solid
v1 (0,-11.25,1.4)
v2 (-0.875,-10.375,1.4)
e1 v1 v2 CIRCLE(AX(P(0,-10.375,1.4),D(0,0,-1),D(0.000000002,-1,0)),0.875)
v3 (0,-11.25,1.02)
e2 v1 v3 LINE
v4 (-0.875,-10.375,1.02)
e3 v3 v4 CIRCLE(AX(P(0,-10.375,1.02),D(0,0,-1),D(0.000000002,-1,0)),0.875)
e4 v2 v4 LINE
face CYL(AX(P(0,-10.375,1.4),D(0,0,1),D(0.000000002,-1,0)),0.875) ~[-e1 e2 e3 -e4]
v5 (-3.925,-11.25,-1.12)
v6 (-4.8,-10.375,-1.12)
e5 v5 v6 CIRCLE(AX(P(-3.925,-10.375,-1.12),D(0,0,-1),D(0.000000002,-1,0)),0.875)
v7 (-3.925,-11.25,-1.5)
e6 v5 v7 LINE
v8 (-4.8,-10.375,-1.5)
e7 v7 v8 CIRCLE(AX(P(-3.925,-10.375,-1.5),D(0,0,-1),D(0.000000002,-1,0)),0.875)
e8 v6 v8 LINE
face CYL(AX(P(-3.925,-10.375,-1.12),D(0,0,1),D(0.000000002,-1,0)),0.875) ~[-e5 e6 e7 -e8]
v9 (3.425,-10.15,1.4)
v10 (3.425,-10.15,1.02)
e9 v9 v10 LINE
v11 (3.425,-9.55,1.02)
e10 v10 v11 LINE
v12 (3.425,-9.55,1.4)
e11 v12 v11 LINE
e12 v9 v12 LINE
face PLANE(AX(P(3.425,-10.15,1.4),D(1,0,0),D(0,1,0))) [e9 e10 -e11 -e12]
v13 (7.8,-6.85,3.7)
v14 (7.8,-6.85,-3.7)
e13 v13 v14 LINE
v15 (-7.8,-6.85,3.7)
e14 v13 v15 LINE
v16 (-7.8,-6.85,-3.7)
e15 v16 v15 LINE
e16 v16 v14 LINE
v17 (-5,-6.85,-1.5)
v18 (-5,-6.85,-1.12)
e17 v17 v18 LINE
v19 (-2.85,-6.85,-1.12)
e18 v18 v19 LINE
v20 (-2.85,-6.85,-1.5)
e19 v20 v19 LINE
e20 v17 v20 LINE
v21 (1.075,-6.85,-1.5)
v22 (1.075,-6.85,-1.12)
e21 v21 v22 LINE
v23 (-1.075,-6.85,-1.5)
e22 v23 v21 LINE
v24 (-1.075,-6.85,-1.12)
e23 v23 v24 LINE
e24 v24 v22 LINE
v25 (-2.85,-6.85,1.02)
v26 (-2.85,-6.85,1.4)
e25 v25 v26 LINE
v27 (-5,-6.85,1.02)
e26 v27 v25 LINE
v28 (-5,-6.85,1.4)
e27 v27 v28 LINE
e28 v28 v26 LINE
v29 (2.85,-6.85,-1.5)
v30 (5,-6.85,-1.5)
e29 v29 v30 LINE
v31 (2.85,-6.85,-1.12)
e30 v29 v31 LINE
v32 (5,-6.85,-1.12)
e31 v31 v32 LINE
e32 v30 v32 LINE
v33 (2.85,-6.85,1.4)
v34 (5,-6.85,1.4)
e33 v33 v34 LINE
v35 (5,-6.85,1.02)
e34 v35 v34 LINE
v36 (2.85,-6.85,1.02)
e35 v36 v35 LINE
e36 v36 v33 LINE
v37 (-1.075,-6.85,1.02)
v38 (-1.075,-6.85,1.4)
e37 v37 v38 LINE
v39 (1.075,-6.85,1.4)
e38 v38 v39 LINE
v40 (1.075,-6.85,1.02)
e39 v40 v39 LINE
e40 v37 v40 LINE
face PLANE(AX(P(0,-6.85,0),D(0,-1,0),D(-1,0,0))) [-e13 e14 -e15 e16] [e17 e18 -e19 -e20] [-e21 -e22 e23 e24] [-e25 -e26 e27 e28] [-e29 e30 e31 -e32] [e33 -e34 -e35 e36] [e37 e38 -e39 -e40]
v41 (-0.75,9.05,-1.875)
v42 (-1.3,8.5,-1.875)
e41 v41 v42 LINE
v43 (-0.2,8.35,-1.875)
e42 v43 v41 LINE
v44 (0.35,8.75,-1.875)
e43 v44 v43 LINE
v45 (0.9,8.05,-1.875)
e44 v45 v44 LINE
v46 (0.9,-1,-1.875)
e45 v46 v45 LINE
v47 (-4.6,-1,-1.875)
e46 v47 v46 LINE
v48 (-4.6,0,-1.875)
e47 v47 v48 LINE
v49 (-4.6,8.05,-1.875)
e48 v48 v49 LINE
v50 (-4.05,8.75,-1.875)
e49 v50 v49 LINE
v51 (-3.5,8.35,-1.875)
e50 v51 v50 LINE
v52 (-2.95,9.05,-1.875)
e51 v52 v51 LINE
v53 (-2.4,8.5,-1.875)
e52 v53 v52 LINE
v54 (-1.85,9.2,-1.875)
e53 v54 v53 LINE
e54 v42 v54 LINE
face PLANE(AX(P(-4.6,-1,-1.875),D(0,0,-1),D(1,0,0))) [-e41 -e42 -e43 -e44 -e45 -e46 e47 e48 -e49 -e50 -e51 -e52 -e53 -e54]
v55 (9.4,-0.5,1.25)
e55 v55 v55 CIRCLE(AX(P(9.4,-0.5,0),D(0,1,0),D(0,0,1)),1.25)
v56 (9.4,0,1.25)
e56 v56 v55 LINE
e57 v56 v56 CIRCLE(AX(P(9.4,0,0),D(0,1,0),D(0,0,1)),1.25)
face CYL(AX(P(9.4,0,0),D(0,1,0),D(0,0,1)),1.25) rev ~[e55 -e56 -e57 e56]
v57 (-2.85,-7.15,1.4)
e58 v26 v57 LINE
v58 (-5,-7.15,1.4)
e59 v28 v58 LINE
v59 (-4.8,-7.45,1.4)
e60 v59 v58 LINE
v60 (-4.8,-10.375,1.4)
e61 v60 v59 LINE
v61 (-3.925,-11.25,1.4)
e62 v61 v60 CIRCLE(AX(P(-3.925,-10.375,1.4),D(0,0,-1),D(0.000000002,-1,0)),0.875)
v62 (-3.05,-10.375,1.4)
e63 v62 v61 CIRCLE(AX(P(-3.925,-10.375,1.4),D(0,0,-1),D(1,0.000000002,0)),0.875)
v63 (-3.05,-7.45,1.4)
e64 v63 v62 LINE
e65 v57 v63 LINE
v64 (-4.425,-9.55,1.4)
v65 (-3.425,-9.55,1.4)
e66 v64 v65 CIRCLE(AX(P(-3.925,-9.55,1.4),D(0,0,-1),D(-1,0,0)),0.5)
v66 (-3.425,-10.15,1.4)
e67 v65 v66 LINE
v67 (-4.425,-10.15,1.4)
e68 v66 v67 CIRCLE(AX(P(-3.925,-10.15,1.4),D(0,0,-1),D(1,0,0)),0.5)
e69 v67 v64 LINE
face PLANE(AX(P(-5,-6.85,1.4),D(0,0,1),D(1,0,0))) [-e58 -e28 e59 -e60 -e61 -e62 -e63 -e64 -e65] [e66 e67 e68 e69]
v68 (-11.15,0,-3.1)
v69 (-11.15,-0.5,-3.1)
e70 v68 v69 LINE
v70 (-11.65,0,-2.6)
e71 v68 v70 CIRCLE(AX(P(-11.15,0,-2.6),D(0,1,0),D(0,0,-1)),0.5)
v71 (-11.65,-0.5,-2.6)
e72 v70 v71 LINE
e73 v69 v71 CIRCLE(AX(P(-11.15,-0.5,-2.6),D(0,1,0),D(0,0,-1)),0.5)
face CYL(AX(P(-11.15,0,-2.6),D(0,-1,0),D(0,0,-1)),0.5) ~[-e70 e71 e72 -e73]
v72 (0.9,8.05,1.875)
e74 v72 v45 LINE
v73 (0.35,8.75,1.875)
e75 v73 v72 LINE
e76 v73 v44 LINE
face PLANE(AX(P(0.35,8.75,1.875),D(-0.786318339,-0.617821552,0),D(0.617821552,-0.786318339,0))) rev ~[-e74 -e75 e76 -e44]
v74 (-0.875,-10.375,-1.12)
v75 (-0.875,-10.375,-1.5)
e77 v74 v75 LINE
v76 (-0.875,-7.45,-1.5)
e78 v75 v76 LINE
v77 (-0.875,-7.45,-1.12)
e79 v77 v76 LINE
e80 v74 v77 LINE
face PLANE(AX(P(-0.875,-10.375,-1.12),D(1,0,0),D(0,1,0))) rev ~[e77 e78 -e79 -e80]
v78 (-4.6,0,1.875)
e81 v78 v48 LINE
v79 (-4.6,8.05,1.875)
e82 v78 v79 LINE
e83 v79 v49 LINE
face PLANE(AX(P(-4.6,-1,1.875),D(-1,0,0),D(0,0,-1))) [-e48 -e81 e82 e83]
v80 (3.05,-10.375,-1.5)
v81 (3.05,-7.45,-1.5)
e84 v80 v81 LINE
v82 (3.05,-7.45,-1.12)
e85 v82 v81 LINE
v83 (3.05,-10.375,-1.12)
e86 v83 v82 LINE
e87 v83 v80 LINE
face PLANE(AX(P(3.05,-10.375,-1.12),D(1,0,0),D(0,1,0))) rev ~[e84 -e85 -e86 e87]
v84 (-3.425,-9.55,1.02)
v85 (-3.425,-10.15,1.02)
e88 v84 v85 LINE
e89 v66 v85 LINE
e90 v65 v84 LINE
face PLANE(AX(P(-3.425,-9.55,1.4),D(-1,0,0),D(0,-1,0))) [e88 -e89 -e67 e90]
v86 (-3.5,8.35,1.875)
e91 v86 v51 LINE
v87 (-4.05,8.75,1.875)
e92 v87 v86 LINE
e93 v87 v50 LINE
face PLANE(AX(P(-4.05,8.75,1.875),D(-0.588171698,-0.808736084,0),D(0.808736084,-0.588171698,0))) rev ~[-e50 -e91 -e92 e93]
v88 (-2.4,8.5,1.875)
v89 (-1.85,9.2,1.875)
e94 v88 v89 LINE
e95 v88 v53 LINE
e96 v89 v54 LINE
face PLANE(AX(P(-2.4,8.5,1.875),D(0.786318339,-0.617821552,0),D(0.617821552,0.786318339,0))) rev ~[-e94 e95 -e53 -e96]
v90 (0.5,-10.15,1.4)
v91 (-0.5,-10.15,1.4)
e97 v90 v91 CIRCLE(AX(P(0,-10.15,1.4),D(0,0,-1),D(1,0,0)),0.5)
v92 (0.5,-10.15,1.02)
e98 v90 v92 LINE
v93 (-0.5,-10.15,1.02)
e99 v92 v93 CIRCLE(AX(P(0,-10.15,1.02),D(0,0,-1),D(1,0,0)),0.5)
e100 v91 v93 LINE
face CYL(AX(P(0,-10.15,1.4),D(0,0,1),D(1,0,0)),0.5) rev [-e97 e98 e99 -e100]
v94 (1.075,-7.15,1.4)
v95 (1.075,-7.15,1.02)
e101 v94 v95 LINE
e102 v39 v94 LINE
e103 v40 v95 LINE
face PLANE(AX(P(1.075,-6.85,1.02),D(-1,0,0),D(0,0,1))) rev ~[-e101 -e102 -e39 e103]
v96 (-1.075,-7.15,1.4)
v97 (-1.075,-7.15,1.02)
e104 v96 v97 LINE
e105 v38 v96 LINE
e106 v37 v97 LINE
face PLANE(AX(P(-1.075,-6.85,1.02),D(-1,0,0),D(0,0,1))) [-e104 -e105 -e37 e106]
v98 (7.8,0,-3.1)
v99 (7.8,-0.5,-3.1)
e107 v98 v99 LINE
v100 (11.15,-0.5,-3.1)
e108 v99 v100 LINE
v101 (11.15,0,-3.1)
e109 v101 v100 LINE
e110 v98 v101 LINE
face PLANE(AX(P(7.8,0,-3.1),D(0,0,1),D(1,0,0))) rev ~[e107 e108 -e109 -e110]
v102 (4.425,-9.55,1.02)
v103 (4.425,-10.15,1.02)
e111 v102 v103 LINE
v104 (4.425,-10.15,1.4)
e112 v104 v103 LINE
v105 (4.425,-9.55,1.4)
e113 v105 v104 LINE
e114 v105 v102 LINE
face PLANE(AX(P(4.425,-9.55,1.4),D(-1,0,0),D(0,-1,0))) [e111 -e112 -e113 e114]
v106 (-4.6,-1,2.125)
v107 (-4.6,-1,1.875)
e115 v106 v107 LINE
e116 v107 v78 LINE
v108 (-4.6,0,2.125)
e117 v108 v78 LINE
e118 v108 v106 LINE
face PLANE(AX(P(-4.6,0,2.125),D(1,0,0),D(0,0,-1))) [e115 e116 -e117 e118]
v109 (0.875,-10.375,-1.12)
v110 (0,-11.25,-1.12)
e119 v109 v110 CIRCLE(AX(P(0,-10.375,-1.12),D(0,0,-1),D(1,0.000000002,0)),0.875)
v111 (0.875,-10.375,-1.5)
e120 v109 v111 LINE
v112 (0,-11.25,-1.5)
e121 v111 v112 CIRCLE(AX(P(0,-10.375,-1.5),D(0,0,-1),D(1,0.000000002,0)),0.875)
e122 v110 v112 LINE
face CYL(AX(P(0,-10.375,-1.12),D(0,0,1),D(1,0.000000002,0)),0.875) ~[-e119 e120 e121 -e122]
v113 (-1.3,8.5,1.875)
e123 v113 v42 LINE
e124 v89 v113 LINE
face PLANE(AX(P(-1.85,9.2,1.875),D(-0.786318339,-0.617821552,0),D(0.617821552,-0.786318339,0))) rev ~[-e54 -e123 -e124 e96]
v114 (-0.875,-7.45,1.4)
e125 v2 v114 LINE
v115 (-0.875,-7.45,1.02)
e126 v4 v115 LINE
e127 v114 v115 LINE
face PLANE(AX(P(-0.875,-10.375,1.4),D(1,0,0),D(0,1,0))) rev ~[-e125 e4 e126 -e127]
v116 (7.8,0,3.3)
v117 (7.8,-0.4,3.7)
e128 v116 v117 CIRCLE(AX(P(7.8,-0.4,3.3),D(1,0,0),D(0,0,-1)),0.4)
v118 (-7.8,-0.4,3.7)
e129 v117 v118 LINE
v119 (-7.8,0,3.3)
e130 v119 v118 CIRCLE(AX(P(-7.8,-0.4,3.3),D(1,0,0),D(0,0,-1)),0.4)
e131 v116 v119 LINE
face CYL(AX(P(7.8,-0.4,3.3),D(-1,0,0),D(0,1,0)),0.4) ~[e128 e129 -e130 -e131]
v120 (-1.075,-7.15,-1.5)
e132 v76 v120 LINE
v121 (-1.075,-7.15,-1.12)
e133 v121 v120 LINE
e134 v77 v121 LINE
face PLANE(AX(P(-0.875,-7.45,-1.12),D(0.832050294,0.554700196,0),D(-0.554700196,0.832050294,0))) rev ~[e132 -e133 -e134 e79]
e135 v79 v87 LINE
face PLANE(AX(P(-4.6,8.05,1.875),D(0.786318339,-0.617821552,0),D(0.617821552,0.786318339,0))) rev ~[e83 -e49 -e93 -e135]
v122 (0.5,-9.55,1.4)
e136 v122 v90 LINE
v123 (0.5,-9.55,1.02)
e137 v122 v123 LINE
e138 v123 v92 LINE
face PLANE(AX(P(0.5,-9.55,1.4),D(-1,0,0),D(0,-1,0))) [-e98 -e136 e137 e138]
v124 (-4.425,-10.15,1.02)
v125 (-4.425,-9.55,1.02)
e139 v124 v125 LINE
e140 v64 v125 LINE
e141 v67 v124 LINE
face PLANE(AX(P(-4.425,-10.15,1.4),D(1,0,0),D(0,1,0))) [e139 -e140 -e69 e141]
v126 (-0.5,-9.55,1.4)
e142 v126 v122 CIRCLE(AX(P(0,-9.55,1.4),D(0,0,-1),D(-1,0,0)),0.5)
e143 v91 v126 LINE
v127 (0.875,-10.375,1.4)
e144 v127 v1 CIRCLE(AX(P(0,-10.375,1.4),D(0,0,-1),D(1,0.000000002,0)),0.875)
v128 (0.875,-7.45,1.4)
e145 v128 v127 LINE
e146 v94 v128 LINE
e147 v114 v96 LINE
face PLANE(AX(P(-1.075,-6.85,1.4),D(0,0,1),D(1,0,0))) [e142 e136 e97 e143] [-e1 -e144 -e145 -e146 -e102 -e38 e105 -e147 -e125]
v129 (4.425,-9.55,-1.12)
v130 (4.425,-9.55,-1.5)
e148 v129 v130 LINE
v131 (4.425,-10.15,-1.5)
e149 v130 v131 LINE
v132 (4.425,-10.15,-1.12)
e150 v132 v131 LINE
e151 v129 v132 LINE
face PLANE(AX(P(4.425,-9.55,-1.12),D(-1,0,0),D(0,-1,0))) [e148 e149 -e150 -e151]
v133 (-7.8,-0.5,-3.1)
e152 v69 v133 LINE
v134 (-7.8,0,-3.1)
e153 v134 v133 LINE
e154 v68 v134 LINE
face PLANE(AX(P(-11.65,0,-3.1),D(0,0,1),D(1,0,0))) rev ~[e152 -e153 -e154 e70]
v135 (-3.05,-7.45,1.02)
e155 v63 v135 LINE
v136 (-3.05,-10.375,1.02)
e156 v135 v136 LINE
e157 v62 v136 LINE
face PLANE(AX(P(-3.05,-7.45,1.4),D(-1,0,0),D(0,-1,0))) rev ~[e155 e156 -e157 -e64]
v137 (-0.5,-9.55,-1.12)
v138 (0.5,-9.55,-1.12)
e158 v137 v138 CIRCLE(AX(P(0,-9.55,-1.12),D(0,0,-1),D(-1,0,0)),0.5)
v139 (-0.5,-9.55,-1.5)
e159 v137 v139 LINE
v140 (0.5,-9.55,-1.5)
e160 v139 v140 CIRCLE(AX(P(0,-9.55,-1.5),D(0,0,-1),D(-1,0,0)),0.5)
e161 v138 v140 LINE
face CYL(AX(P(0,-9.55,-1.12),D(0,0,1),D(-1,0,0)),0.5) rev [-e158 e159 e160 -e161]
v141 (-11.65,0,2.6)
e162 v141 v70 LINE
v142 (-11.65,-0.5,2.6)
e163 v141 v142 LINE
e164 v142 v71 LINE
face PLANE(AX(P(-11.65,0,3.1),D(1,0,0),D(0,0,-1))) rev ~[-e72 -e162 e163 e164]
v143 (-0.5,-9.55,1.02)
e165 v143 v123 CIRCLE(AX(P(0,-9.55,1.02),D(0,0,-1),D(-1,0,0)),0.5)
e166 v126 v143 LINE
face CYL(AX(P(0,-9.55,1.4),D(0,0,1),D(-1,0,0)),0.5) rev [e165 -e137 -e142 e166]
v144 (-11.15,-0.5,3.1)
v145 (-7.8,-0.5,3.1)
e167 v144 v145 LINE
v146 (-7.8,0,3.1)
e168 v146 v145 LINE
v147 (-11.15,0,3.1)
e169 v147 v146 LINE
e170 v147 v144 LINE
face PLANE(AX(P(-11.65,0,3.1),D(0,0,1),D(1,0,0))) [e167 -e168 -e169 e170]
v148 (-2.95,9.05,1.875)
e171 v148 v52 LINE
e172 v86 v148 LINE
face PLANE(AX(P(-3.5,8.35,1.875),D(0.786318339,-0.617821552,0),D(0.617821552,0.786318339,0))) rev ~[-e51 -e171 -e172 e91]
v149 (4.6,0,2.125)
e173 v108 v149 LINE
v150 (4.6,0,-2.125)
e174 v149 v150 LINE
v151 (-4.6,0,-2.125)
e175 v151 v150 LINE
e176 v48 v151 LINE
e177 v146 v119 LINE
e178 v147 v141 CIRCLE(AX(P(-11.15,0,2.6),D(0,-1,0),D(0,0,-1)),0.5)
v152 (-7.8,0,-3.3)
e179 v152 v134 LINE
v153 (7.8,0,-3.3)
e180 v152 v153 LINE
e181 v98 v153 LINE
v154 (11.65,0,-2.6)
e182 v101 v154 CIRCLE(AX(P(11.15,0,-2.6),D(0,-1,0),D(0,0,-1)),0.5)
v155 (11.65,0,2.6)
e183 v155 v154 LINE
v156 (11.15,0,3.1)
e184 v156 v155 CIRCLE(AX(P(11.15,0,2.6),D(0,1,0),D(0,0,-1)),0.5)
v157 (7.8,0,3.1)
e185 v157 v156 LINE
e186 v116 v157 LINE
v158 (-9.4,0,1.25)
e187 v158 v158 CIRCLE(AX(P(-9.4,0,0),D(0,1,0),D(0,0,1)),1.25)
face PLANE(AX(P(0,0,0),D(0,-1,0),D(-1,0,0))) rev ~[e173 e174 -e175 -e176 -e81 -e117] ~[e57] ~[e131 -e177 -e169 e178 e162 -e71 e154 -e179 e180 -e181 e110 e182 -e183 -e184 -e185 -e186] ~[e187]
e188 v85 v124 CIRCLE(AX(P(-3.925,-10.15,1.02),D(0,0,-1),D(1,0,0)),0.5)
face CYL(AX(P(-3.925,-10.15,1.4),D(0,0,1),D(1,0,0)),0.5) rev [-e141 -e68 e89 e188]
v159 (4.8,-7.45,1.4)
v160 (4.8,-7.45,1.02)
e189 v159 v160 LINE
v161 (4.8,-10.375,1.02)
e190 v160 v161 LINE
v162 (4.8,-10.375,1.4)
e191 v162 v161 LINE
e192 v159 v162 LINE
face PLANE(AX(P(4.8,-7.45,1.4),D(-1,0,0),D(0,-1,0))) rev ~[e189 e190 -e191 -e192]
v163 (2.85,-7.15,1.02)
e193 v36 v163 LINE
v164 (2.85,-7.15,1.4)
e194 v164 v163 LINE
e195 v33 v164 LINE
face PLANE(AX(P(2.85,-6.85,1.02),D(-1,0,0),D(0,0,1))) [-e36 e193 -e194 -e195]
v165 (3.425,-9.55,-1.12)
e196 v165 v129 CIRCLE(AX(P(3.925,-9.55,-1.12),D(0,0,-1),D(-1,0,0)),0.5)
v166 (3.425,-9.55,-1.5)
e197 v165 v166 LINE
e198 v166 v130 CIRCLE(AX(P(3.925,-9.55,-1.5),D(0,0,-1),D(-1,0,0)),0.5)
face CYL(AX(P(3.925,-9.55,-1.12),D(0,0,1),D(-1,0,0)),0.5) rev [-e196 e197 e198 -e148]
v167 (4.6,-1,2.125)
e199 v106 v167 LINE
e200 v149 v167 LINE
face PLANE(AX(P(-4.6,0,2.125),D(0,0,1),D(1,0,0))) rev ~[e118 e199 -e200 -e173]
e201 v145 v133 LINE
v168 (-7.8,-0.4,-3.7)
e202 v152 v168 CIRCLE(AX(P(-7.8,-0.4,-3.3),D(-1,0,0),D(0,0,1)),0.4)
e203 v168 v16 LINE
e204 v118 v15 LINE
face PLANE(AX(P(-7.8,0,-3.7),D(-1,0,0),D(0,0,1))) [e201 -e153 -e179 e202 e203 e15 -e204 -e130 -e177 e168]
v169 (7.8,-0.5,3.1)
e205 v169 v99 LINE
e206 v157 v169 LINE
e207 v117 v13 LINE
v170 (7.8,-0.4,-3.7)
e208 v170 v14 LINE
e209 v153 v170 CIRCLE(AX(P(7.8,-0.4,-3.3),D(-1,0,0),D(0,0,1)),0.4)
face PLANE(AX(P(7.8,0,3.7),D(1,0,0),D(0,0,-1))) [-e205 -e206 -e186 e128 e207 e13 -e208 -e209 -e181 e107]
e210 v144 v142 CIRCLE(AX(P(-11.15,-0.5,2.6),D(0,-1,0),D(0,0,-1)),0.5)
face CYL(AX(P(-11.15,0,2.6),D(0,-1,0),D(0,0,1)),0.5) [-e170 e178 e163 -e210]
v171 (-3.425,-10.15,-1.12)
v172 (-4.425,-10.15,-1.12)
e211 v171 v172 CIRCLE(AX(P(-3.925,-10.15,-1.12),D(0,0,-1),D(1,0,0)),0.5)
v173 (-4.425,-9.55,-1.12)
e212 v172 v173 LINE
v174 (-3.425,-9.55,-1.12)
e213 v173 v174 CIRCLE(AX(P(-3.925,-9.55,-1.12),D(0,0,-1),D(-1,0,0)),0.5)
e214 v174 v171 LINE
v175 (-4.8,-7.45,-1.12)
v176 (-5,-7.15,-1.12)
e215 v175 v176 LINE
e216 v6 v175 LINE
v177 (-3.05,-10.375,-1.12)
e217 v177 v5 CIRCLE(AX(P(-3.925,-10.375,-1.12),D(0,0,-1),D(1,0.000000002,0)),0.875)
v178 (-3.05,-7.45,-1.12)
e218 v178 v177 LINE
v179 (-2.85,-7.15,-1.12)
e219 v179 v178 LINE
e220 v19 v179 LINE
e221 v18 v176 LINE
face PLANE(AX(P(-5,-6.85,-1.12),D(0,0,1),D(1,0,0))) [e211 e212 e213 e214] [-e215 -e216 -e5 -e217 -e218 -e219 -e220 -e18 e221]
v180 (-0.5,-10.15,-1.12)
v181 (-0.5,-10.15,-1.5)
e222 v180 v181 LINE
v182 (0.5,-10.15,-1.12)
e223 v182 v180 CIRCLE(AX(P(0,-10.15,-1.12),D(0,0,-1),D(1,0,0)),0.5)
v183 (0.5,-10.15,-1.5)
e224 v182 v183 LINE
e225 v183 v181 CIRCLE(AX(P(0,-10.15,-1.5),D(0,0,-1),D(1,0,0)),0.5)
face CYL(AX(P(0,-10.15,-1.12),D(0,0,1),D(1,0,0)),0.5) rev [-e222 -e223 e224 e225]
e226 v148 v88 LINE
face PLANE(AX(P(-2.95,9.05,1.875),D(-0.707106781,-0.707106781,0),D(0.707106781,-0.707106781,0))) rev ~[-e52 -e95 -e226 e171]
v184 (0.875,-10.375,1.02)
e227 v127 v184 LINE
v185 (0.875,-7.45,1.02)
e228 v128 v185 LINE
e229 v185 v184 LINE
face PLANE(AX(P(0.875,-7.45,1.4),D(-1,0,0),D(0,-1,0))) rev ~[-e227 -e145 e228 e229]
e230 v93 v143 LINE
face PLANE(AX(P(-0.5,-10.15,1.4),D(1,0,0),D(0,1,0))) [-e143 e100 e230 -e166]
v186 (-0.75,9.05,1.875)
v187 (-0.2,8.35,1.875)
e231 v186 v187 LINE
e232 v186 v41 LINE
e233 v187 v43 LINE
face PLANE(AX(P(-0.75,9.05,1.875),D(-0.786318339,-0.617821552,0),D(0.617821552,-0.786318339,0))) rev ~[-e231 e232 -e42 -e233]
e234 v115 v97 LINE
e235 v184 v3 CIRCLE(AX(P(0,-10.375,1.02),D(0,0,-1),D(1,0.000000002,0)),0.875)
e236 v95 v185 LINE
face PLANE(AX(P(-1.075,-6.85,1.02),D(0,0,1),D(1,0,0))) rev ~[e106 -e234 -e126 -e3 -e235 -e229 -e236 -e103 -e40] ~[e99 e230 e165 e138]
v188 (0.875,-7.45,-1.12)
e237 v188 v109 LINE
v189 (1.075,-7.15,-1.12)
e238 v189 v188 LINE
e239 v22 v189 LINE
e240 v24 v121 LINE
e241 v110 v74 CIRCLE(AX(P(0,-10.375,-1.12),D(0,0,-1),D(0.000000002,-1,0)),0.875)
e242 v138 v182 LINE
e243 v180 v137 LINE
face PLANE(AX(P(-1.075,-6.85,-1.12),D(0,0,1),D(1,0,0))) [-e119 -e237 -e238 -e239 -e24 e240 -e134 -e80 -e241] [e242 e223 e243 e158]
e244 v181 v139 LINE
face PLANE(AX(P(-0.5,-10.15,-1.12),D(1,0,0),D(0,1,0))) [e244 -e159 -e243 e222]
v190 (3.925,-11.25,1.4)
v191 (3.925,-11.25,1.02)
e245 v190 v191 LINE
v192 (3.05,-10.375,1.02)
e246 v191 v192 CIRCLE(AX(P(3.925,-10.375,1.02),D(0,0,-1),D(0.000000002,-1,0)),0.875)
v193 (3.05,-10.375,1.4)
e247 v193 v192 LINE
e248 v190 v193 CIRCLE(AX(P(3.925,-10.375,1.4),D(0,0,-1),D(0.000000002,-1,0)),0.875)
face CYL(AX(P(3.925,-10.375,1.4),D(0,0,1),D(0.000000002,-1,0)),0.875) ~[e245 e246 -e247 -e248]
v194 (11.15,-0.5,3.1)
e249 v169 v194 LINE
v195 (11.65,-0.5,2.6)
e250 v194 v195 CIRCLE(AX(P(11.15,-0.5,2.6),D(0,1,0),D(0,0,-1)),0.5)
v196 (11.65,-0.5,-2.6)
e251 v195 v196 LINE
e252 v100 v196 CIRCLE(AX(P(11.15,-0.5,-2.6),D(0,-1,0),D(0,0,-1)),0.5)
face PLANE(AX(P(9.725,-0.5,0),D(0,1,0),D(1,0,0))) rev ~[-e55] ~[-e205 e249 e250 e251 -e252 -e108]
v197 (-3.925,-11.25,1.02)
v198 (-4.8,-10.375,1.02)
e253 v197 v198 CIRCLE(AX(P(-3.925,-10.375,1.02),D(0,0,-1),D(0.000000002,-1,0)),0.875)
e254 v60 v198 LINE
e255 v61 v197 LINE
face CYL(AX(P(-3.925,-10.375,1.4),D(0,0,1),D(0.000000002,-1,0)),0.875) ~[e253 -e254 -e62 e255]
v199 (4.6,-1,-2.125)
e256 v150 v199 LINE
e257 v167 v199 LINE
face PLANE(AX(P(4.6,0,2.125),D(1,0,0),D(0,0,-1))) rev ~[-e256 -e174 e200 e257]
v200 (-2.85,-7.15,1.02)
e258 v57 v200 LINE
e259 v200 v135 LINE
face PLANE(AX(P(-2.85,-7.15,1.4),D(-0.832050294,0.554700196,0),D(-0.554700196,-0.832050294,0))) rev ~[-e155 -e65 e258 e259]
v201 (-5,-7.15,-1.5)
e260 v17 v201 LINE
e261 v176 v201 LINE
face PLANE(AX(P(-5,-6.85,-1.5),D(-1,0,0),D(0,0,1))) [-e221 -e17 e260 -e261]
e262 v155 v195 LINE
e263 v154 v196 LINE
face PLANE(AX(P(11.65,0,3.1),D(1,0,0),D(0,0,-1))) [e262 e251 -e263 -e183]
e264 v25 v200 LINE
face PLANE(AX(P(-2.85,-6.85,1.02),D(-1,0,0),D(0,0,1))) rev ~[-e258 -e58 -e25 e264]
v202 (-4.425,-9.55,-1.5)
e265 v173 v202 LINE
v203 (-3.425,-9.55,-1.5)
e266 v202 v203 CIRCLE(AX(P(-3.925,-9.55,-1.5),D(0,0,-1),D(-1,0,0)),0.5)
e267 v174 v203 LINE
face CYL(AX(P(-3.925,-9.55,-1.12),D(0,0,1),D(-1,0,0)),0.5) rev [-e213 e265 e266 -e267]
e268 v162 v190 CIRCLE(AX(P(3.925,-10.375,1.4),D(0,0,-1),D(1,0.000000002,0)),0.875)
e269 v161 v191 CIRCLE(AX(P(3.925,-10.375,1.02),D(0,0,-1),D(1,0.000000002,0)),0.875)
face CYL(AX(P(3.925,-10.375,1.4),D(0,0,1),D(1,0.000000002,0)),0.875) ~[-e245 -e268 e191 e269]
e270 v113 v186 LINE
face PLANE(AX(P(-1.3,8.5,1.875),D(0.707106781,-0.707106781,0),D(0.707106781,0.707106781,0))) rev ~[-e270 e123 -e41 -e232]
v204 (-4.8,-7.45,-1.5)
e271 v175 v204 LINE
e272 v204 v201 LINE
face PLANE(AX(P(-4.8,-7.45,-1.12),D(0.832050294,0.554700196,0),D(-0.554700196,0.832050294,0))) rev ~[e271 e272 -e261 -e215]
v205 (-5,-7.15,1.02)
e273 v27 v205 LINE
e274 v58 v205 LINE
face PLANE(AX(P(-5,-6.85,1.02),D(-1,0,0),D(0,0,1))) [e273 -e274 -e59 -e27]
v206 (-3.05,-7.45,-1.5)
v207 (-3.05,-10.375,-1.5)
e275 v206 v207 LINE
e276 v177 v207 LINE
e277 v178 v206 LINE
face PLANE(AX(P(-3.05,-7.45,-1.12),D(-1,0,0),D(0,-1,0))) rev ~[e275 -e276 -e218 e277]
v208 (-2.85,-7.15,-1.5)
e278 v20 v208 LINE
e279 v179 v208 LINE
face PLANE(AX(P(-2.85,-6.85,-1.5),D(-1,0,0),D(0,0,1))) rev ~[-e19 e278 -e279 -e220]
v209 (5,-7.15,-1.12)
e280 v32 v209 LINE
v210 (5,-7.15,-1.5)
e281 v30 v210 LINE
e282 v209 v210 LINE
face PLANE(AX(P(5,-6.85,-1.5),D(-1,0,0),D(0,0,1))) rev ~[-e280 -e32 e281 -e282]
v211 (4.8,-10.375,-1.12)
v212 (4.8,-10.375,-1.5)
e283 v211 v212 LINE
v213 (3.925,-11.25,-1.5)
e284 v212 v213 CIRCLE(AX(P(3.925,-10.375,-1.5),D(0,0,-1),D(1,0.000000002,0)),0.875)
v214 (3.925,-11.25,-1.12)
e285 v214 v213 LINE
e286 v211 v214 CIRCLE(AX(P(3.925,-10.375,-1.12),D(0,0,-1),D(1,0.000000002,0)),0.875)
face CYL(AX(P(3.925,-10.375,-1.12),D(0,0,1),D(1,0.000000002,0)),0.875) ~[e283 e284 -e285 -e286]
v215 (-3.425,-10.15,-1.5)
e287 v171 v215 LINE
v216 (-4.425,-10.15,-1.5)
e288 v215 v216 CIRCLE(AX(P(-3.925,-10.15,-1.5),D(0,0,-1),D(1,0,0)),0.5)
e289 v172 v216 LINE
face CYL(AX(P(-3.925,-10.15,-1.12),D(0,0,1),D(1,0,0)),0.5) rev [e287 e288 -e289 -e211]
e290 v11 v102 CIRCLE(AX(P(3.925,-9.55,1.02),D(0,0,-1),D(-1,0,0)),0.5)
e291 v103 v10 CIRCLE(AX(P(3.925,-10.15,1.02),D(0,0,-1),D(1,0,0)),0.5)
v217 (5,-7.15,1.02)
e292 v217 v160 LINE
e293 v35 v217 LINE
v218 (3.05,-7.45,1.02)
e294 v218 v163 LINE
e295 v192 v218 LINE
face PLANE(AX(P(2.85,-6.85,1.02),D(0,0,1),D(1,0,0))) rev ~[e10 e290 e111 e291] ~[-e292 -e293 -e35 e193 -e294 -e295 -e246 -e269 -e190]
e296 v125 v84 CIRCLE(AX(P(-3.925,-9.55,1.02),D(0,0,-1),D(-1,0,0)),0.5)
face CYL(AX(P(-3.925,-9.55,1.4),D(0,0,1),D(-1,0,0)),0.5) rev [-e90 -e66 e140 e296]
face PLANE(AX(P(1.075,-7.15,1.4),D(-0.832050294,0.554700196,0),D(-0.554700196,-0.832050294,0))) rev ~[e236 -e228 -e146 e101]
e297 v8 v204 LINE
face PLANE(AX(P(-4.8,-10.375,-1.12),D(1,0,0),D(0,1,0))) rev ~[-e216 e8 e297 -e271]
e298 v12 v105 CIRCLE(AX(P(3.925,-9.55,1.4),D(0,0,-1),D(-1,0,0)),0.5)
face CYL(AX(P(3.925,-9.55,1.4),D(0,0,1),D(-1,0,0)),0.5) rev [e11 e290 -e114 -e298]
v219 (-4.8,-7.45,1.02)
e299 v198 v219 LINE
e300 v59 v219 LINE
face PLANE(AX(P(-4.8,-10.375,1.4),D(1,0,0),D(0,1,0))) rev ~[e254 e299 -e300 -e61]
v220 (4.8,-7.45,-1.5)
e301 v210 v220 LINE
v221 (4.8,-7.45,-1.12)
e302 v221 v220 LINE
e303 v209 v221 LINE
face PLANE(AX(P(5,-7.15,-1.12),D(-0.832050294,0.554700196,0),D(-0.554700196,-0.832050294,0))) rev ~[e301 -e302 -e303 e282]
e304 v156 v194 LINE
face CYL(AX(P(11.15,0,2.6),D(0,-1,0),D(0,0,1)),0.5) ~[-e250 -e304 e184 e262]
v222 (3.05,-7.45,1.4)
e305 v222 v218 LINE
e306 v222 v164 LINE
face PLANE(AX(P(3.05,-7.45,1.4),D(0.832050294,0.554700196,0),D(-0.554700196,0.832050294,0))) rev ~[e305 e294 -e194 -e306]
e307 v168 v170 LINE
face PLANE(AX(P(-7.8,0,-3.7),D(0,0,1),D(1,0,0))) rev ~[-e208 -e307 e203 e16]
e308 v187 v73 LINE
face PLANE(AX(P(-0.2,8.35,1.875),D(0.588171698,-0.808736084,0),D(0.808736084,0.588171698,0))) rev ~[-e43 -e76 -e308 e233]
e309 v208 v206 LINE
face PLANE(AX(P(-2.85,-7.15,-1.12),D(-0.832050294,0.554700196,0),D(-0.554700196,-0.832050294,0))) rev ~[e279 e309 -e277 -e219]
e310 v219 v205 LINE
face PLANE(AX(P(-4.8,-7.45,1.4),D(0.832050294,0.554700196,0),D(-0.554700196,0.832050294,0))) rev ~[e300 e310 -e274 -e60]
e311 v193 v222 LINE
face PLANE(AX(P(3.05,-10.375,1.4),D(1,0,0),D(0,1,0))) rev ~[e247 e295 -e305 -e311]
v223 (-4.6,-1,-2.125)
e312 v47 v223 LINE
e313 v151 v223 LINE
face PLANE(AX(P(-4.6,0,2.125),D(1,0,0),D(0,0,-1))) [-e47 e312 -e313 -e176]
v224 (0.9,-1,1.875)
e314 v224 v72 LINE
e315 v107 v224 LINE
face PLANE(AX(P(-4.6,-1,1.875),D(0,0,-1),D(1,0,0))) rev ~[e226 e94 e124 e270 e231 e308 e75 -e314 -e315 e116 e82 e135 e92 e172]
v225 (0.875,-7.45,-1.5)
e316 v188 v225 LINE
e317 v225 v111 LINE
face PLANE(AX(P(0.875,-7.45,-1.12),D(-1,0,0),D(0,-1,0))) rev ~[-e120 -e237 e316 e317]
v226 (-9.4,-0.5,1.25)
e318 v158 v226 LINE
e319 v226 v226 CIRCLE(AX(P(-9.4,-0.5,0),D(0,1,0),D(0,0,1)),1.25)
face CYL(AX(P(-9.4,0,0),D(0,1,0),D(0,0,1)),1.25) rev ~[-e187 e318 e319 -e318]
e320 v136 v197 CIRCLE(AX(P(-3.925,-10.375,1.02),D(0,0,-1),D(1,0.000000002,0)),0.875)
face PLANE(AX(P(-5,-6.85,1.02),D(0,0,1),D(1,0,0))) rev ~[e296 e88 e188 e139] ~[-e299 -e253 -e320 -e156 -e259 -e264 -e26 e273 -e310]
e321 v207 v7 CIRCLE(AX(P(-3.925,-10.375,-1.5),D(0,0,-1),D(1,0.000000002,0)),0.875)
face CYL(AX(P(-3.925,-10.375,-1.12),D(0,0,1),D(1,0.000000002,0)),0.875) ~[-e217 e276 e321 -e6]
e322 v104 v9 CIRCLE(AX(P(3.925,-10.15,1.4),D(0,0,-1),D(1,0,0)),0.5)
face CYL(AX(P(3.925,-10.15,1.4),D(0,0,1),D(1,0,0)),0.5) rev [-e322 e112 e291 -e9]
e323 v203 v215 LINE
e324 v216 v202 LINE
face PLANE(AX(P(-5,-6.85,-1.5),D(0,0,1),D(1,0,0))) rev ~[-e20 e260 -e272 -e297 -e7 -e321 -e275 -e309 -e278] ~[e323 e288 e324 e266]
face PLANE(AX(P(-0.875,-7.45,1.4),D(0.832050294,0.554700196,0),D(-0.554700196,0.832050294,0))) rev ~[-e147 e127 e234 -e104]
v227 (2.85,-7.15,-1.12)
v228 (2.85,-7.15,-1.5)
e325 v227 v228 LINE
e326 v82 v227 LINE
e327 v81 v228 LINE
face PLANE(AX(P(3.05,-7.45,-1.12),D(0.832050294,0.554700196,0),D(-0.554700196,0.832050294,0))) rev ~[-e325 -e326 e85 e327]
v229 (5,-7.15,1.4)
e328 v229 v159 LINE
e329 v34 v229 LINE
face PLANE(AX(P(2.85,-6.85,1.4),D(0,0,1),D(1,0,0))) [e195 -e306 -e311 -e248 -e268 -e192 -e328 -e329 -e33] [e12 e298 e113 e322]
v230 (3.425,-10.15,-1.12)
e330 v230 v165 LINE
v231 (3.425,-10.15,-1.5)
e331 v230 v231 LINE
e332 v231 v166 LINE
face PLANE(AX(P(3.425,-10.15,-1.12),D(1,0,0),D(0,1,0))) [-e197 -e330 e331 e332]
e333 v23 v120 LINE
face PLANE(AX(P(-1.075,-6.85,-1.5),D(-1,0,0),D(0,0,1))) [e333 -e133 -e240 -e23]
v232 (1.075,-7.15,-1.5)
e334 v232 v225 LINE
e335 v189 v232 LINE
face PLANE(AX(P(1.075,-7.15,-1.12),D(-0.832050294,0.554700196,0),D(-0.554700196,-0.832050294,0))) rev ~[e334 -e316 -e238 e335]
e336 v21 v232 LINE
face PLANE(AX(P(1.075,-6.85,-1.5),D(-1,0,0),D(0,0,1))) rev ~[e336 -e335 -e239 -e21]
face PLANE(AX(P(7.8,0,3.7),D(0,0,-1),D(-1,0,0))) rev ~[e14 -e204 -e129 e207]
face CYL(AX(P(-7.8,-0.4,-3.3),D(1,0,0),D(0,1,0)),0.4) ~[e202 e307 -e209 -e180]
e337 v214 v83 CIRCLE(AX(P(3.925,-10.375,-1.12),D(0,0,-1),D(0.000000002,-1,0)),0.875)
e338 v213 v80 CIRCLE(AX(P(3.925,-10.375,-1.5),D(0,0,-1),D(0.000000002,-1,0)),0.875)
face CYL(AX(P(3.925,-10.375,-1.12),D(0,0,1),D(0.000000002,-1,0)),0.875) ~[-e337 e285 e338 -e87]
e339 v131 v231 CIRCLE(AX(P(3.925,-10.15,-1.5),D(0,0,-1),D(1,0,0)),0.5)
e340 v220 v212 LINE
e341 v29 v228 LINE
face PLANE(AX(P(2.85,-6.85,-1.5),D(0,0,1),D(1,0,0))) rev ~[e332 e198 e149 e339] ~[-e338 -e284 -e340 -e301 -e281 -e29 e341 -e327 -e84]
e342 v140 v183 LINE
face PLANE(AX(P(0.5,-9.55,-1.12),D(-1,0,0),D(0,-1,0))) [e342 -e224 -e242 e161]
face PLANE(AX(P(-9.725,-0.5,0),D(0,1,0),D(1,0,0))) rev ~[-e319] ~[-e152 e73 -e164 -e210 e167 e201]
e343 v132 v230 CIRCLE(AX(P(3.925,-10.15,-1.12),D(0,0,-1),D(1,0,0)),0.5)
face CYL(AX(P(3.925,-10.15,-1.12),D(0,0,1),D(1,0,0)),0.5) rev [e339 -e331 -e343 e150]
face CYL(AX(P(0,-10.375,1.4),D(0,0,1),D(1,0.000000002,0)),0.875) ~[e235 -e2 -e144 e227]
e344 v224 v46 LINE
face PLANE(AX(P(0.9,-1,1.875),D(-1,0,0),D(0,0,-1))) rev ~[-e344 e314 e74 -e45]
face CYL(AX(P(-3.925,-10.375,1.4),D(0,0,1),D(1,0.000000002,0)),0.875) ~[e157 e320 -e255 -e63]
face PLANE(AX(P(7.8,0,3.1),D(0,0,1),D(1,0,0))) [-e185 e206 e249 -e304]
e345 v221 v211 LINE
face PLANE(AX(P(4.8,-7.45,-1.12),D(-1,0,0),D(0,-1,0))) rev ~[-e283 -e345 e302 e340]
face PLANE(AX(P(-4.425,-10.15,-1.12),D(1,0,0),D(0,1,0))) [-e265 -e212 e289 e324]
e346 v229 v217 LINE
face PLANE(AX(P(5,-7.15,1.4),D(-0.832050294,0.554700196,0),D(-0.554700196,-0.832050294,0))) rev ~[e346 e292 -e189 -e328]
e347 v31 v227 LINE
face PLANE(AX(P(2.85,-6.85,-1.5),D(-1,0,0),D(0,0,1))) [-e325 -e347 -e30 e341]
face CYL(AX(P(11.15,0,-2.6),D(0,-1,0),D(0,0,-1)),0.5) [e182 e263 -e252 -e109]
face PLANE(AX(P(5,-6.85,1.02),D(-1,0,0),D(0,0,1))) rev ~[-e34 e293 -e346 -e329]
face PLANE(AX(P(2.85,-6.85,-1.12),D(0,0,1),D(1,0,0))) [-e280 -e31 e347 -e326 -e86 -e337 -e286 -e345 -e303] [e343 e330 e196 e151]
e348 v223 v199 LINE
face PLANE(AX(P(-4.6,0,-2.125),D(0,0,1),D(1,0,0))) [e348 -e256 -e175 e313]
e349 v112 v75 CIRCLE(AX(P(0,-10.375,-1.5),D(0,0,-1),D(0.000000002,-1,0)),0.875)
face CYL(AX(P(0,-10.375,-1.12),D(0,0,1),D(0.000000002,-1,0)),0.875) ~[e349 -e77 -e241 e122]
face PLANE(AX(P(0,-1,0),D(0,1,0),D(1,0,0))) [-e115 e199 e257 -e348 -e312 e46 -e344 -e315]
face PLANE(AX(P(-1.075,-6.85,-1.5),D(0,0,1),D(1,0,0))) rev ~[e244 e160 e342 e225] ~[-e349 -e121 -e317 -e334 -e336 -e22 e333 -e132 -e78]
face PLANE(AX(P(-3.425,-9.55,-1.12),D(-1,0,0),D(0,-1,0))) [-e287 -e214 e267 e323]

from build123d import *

# Parameters (mm, degrees)
ESQUISSE1_W           = 3.85
ESQUISSE1_H           = 6.2
ESQUISSE1_R           = 1.25
PLAQUE_DEPTH          = 0.5
CORPS_DEPTH           = 6.85
CONG_R                = 0.5
ESQUISSE2_W           = 9.2
ESQUISSE2_H           = 4.25
CAVIT_DEPTH           = 1
ESQUISSE3_W           = 5.5
ESQUISSE3_H           = 3.75
BOUTON_DEPTH          = 10.2
RELIEF_DEPTH          = 16.856958252
CONG_2_R              = 0.4
ESQUISSE6_W           = 2.15
ESQUISSE6_H           = 0.38
PIN_DEPTH             = 4.4
ARRONDI_DEPTH         = 0.38
PERCAGE_DEPTH         = 0.38
R_P_TITION_COUNT      = 3
R_P_TITION_PITCH      = 3.925
R_P_TITION_COUNT_DIR2 = 2
R_P_TITION_PITCH_DIR2 = 2.52


with BuildPart() as part:
    # Esquisse1 → Plaque (new body)
    # profile 1 of 2: a face of its own
    with BuildSketch(Plane(origin=(0, 0, 0), x_dir=(1, 0, 0), z_dir=(0, 1, 0))):
        with Locations((-9.725, 0)):
            Rectangle(ESQUISSE1_W, ESQUISSE1_H)
        with Locations(Location((-9.4, 0, 0), (0, 0, 270))):
            Circle(ESQUISSE1_R, mode=Mode.SUBTRACT)
    # profile 2 of 2: a face of its own
    with BuildSketch(Plane(origin=(0, 0, 0), x_dir=(1, 0, 0), z_dir=(0, 1, 0))):
        with Locations((9.725, 0)):
            Rectangle(ESQUISSE1_W, ESQUISSE1_H)
        with Locations(Location((9.4, 0, 0), (0, 0, 270))):
            Circle(ESQUISSE1_R, mode=Mode.SUBTRACT)
    extrude(amount=-PLAQUE_DEPTH)

    # Esquisse1<5> → Corps (add)
    with BuildSketch(Plane(origin=(0, 0, 0), x_dir=(1, 0, 0), z_dir=(0, 1, 0))):
        Polygon((7.8, 3.1), (7.8, -3.1), (7.8, -3.7), (-7.8, -3.7), (-7.8, -3.1), (-7.8, 3.1), (-7.8, 3.7), (7.8, 3.7), align=None)
    extrude(amount=-CORPS_DEPTH)

    # Congé
    cong_edges = [part.edges().sort_by_distance(p)[0] for p in [
        (-11.65, -0.25, 3.1),
        (-11.65, -0.25, -3.1),
        (11.65, -0.25, -3.1),
        (11.65, -0.25, 3.1),
    ]]
    fillet(cong_edges, radius=CONG_R)

    # Esquisse2 → Cavité (cut)
    with BuildSketch(Plane(origin=(0, 0, 0), x_dir=(1, 0, 0), z_dir=(0, 1, 0))):
        Rectangle(ESQUISSE2_W, ESQUISSE2_H)
    extrude(amount=-CAVIT_DEPTH, mode=Mode.SUBTRACT)

    # Esquisse3 → Bouton (add)
    with BuildSketch(Plane(origin=(0, -1, 0), x_dir=(1, 0, 0), z_dir=(0, 1, 0))):
        with Locations((-1.85, 0)):
            Rectangle(ESQUISSE3_W, ESQUISSE3_H)
    extrude(amount=BOUTON_DEPTH)

    # Esquisse5 → Relief (cut, through all)
    with BuildSketch(Plane.XY.offset(1.875)):
        Polygon((-4.6, 9.2), (-4.6, 8.05), (-4.05, 8.75), (-3.5, 8.35), (-2.95, 9.05), (-2.4, 8.5), (-1.85, 9.2), align=None)
        Polygon((0.9, 9.2), (-1.85, 9.2), (-1.3, 8.5), (-0.75, 9.05), (-0.2, 8.35), (0.35, 8.75), (0.9, 8.05), align=None)
    extrude(amount=-RELIEF_DEPTH, mode=Mode.SUBTRACT)

    # Congé2
    cong_2_edges = [part.edges().sort_by_distance(p)[0] for p in [
        (0, 0, -3.7),
        (0, 0, 3.7),
    ]]
    fillet(cong_2_edges, radius=CONG_2_R)

    # Esquisse6 → Pin (add)
    with BuildSketch(Plane.XZ.offset(6.85)):
        with Locations((-3.925, 1.21)):
            Rectangle(ESQUISSE6_W, ESQUISSE6_H)
    pin = extrude(amount=PIN_DEPTH)

    # Esquisse8 → Arrondi (cut)
    with BuildSketch(Plane.XY.offset(1.4)):
        with BuildLine():
            Line((-4.8, -7.45), (-5, -7.15))
            Line((-5, -7.15), (-5, -11.25))
            Line((-5, -11.25), (-3.925, -11.25))
            ThreePointArc((-3.925, -11.25), (-4.543718434, -10.993718434), (-4.8, -10.375))
            Line((-4.8, -10.375), (-4.8, -7.45))
        make_face()
        with BuildLine():
            Line((-2.85, -11.25), (-2.85, -7.15))
            Line((-2.85, -7.15), (-3.05, -7.45))
            Line((-3.05, -7.45), (-3.05, -10.375))
            ThreePointArc((-3.05, -10.375), (-3.306281566, -10.993718434), (-3.925, -11.25))
            Line((-3.925, -11.25), (-2.85, -11.25))
        make_face()
    arrondi = extrude(amount=-ARRONDI_DEPTH, mode=Mode.SUBTRACT)

    # Esquisse9 → Percage (cut)
    with BuildSketch(Plane.XY.offset(1.4)):
        with BuildLine():
            Line((-4.425, -10.15), (-4.425, -9.55))
            ThreePointArc((-4.425, -9.55), (-3.925, -9.05), (-3.425, -9.55))
            Line((-3.425, -9.55), (-3.425, -10.15))
            ThreePointArc((-3.425, -10.15), (-3.925, -10.65), (-4.425, -10.15))
        make_face()
    percage = extrude(amount=-PERCAGE_DEPTH, mode=Mode.SUBTRACT)

    # Répétition: Pin, Arrondi, Percage 3 × 2
    with Locations(*[(i * R_P_TITION_PITCH, 0, -j * R_P_TITION_PITCH_DIR2) for i in range(R_P_TITION_COUNT) for j in range(R_P_TITION_COUNT_DIR2) if (i, j) != (0, 0)]):
        add(pin)
        add(arrondi, mode=Mode.SUBTRACT)
        add(percage, mode=Mode.SUBTRACT)


solid = part.part
